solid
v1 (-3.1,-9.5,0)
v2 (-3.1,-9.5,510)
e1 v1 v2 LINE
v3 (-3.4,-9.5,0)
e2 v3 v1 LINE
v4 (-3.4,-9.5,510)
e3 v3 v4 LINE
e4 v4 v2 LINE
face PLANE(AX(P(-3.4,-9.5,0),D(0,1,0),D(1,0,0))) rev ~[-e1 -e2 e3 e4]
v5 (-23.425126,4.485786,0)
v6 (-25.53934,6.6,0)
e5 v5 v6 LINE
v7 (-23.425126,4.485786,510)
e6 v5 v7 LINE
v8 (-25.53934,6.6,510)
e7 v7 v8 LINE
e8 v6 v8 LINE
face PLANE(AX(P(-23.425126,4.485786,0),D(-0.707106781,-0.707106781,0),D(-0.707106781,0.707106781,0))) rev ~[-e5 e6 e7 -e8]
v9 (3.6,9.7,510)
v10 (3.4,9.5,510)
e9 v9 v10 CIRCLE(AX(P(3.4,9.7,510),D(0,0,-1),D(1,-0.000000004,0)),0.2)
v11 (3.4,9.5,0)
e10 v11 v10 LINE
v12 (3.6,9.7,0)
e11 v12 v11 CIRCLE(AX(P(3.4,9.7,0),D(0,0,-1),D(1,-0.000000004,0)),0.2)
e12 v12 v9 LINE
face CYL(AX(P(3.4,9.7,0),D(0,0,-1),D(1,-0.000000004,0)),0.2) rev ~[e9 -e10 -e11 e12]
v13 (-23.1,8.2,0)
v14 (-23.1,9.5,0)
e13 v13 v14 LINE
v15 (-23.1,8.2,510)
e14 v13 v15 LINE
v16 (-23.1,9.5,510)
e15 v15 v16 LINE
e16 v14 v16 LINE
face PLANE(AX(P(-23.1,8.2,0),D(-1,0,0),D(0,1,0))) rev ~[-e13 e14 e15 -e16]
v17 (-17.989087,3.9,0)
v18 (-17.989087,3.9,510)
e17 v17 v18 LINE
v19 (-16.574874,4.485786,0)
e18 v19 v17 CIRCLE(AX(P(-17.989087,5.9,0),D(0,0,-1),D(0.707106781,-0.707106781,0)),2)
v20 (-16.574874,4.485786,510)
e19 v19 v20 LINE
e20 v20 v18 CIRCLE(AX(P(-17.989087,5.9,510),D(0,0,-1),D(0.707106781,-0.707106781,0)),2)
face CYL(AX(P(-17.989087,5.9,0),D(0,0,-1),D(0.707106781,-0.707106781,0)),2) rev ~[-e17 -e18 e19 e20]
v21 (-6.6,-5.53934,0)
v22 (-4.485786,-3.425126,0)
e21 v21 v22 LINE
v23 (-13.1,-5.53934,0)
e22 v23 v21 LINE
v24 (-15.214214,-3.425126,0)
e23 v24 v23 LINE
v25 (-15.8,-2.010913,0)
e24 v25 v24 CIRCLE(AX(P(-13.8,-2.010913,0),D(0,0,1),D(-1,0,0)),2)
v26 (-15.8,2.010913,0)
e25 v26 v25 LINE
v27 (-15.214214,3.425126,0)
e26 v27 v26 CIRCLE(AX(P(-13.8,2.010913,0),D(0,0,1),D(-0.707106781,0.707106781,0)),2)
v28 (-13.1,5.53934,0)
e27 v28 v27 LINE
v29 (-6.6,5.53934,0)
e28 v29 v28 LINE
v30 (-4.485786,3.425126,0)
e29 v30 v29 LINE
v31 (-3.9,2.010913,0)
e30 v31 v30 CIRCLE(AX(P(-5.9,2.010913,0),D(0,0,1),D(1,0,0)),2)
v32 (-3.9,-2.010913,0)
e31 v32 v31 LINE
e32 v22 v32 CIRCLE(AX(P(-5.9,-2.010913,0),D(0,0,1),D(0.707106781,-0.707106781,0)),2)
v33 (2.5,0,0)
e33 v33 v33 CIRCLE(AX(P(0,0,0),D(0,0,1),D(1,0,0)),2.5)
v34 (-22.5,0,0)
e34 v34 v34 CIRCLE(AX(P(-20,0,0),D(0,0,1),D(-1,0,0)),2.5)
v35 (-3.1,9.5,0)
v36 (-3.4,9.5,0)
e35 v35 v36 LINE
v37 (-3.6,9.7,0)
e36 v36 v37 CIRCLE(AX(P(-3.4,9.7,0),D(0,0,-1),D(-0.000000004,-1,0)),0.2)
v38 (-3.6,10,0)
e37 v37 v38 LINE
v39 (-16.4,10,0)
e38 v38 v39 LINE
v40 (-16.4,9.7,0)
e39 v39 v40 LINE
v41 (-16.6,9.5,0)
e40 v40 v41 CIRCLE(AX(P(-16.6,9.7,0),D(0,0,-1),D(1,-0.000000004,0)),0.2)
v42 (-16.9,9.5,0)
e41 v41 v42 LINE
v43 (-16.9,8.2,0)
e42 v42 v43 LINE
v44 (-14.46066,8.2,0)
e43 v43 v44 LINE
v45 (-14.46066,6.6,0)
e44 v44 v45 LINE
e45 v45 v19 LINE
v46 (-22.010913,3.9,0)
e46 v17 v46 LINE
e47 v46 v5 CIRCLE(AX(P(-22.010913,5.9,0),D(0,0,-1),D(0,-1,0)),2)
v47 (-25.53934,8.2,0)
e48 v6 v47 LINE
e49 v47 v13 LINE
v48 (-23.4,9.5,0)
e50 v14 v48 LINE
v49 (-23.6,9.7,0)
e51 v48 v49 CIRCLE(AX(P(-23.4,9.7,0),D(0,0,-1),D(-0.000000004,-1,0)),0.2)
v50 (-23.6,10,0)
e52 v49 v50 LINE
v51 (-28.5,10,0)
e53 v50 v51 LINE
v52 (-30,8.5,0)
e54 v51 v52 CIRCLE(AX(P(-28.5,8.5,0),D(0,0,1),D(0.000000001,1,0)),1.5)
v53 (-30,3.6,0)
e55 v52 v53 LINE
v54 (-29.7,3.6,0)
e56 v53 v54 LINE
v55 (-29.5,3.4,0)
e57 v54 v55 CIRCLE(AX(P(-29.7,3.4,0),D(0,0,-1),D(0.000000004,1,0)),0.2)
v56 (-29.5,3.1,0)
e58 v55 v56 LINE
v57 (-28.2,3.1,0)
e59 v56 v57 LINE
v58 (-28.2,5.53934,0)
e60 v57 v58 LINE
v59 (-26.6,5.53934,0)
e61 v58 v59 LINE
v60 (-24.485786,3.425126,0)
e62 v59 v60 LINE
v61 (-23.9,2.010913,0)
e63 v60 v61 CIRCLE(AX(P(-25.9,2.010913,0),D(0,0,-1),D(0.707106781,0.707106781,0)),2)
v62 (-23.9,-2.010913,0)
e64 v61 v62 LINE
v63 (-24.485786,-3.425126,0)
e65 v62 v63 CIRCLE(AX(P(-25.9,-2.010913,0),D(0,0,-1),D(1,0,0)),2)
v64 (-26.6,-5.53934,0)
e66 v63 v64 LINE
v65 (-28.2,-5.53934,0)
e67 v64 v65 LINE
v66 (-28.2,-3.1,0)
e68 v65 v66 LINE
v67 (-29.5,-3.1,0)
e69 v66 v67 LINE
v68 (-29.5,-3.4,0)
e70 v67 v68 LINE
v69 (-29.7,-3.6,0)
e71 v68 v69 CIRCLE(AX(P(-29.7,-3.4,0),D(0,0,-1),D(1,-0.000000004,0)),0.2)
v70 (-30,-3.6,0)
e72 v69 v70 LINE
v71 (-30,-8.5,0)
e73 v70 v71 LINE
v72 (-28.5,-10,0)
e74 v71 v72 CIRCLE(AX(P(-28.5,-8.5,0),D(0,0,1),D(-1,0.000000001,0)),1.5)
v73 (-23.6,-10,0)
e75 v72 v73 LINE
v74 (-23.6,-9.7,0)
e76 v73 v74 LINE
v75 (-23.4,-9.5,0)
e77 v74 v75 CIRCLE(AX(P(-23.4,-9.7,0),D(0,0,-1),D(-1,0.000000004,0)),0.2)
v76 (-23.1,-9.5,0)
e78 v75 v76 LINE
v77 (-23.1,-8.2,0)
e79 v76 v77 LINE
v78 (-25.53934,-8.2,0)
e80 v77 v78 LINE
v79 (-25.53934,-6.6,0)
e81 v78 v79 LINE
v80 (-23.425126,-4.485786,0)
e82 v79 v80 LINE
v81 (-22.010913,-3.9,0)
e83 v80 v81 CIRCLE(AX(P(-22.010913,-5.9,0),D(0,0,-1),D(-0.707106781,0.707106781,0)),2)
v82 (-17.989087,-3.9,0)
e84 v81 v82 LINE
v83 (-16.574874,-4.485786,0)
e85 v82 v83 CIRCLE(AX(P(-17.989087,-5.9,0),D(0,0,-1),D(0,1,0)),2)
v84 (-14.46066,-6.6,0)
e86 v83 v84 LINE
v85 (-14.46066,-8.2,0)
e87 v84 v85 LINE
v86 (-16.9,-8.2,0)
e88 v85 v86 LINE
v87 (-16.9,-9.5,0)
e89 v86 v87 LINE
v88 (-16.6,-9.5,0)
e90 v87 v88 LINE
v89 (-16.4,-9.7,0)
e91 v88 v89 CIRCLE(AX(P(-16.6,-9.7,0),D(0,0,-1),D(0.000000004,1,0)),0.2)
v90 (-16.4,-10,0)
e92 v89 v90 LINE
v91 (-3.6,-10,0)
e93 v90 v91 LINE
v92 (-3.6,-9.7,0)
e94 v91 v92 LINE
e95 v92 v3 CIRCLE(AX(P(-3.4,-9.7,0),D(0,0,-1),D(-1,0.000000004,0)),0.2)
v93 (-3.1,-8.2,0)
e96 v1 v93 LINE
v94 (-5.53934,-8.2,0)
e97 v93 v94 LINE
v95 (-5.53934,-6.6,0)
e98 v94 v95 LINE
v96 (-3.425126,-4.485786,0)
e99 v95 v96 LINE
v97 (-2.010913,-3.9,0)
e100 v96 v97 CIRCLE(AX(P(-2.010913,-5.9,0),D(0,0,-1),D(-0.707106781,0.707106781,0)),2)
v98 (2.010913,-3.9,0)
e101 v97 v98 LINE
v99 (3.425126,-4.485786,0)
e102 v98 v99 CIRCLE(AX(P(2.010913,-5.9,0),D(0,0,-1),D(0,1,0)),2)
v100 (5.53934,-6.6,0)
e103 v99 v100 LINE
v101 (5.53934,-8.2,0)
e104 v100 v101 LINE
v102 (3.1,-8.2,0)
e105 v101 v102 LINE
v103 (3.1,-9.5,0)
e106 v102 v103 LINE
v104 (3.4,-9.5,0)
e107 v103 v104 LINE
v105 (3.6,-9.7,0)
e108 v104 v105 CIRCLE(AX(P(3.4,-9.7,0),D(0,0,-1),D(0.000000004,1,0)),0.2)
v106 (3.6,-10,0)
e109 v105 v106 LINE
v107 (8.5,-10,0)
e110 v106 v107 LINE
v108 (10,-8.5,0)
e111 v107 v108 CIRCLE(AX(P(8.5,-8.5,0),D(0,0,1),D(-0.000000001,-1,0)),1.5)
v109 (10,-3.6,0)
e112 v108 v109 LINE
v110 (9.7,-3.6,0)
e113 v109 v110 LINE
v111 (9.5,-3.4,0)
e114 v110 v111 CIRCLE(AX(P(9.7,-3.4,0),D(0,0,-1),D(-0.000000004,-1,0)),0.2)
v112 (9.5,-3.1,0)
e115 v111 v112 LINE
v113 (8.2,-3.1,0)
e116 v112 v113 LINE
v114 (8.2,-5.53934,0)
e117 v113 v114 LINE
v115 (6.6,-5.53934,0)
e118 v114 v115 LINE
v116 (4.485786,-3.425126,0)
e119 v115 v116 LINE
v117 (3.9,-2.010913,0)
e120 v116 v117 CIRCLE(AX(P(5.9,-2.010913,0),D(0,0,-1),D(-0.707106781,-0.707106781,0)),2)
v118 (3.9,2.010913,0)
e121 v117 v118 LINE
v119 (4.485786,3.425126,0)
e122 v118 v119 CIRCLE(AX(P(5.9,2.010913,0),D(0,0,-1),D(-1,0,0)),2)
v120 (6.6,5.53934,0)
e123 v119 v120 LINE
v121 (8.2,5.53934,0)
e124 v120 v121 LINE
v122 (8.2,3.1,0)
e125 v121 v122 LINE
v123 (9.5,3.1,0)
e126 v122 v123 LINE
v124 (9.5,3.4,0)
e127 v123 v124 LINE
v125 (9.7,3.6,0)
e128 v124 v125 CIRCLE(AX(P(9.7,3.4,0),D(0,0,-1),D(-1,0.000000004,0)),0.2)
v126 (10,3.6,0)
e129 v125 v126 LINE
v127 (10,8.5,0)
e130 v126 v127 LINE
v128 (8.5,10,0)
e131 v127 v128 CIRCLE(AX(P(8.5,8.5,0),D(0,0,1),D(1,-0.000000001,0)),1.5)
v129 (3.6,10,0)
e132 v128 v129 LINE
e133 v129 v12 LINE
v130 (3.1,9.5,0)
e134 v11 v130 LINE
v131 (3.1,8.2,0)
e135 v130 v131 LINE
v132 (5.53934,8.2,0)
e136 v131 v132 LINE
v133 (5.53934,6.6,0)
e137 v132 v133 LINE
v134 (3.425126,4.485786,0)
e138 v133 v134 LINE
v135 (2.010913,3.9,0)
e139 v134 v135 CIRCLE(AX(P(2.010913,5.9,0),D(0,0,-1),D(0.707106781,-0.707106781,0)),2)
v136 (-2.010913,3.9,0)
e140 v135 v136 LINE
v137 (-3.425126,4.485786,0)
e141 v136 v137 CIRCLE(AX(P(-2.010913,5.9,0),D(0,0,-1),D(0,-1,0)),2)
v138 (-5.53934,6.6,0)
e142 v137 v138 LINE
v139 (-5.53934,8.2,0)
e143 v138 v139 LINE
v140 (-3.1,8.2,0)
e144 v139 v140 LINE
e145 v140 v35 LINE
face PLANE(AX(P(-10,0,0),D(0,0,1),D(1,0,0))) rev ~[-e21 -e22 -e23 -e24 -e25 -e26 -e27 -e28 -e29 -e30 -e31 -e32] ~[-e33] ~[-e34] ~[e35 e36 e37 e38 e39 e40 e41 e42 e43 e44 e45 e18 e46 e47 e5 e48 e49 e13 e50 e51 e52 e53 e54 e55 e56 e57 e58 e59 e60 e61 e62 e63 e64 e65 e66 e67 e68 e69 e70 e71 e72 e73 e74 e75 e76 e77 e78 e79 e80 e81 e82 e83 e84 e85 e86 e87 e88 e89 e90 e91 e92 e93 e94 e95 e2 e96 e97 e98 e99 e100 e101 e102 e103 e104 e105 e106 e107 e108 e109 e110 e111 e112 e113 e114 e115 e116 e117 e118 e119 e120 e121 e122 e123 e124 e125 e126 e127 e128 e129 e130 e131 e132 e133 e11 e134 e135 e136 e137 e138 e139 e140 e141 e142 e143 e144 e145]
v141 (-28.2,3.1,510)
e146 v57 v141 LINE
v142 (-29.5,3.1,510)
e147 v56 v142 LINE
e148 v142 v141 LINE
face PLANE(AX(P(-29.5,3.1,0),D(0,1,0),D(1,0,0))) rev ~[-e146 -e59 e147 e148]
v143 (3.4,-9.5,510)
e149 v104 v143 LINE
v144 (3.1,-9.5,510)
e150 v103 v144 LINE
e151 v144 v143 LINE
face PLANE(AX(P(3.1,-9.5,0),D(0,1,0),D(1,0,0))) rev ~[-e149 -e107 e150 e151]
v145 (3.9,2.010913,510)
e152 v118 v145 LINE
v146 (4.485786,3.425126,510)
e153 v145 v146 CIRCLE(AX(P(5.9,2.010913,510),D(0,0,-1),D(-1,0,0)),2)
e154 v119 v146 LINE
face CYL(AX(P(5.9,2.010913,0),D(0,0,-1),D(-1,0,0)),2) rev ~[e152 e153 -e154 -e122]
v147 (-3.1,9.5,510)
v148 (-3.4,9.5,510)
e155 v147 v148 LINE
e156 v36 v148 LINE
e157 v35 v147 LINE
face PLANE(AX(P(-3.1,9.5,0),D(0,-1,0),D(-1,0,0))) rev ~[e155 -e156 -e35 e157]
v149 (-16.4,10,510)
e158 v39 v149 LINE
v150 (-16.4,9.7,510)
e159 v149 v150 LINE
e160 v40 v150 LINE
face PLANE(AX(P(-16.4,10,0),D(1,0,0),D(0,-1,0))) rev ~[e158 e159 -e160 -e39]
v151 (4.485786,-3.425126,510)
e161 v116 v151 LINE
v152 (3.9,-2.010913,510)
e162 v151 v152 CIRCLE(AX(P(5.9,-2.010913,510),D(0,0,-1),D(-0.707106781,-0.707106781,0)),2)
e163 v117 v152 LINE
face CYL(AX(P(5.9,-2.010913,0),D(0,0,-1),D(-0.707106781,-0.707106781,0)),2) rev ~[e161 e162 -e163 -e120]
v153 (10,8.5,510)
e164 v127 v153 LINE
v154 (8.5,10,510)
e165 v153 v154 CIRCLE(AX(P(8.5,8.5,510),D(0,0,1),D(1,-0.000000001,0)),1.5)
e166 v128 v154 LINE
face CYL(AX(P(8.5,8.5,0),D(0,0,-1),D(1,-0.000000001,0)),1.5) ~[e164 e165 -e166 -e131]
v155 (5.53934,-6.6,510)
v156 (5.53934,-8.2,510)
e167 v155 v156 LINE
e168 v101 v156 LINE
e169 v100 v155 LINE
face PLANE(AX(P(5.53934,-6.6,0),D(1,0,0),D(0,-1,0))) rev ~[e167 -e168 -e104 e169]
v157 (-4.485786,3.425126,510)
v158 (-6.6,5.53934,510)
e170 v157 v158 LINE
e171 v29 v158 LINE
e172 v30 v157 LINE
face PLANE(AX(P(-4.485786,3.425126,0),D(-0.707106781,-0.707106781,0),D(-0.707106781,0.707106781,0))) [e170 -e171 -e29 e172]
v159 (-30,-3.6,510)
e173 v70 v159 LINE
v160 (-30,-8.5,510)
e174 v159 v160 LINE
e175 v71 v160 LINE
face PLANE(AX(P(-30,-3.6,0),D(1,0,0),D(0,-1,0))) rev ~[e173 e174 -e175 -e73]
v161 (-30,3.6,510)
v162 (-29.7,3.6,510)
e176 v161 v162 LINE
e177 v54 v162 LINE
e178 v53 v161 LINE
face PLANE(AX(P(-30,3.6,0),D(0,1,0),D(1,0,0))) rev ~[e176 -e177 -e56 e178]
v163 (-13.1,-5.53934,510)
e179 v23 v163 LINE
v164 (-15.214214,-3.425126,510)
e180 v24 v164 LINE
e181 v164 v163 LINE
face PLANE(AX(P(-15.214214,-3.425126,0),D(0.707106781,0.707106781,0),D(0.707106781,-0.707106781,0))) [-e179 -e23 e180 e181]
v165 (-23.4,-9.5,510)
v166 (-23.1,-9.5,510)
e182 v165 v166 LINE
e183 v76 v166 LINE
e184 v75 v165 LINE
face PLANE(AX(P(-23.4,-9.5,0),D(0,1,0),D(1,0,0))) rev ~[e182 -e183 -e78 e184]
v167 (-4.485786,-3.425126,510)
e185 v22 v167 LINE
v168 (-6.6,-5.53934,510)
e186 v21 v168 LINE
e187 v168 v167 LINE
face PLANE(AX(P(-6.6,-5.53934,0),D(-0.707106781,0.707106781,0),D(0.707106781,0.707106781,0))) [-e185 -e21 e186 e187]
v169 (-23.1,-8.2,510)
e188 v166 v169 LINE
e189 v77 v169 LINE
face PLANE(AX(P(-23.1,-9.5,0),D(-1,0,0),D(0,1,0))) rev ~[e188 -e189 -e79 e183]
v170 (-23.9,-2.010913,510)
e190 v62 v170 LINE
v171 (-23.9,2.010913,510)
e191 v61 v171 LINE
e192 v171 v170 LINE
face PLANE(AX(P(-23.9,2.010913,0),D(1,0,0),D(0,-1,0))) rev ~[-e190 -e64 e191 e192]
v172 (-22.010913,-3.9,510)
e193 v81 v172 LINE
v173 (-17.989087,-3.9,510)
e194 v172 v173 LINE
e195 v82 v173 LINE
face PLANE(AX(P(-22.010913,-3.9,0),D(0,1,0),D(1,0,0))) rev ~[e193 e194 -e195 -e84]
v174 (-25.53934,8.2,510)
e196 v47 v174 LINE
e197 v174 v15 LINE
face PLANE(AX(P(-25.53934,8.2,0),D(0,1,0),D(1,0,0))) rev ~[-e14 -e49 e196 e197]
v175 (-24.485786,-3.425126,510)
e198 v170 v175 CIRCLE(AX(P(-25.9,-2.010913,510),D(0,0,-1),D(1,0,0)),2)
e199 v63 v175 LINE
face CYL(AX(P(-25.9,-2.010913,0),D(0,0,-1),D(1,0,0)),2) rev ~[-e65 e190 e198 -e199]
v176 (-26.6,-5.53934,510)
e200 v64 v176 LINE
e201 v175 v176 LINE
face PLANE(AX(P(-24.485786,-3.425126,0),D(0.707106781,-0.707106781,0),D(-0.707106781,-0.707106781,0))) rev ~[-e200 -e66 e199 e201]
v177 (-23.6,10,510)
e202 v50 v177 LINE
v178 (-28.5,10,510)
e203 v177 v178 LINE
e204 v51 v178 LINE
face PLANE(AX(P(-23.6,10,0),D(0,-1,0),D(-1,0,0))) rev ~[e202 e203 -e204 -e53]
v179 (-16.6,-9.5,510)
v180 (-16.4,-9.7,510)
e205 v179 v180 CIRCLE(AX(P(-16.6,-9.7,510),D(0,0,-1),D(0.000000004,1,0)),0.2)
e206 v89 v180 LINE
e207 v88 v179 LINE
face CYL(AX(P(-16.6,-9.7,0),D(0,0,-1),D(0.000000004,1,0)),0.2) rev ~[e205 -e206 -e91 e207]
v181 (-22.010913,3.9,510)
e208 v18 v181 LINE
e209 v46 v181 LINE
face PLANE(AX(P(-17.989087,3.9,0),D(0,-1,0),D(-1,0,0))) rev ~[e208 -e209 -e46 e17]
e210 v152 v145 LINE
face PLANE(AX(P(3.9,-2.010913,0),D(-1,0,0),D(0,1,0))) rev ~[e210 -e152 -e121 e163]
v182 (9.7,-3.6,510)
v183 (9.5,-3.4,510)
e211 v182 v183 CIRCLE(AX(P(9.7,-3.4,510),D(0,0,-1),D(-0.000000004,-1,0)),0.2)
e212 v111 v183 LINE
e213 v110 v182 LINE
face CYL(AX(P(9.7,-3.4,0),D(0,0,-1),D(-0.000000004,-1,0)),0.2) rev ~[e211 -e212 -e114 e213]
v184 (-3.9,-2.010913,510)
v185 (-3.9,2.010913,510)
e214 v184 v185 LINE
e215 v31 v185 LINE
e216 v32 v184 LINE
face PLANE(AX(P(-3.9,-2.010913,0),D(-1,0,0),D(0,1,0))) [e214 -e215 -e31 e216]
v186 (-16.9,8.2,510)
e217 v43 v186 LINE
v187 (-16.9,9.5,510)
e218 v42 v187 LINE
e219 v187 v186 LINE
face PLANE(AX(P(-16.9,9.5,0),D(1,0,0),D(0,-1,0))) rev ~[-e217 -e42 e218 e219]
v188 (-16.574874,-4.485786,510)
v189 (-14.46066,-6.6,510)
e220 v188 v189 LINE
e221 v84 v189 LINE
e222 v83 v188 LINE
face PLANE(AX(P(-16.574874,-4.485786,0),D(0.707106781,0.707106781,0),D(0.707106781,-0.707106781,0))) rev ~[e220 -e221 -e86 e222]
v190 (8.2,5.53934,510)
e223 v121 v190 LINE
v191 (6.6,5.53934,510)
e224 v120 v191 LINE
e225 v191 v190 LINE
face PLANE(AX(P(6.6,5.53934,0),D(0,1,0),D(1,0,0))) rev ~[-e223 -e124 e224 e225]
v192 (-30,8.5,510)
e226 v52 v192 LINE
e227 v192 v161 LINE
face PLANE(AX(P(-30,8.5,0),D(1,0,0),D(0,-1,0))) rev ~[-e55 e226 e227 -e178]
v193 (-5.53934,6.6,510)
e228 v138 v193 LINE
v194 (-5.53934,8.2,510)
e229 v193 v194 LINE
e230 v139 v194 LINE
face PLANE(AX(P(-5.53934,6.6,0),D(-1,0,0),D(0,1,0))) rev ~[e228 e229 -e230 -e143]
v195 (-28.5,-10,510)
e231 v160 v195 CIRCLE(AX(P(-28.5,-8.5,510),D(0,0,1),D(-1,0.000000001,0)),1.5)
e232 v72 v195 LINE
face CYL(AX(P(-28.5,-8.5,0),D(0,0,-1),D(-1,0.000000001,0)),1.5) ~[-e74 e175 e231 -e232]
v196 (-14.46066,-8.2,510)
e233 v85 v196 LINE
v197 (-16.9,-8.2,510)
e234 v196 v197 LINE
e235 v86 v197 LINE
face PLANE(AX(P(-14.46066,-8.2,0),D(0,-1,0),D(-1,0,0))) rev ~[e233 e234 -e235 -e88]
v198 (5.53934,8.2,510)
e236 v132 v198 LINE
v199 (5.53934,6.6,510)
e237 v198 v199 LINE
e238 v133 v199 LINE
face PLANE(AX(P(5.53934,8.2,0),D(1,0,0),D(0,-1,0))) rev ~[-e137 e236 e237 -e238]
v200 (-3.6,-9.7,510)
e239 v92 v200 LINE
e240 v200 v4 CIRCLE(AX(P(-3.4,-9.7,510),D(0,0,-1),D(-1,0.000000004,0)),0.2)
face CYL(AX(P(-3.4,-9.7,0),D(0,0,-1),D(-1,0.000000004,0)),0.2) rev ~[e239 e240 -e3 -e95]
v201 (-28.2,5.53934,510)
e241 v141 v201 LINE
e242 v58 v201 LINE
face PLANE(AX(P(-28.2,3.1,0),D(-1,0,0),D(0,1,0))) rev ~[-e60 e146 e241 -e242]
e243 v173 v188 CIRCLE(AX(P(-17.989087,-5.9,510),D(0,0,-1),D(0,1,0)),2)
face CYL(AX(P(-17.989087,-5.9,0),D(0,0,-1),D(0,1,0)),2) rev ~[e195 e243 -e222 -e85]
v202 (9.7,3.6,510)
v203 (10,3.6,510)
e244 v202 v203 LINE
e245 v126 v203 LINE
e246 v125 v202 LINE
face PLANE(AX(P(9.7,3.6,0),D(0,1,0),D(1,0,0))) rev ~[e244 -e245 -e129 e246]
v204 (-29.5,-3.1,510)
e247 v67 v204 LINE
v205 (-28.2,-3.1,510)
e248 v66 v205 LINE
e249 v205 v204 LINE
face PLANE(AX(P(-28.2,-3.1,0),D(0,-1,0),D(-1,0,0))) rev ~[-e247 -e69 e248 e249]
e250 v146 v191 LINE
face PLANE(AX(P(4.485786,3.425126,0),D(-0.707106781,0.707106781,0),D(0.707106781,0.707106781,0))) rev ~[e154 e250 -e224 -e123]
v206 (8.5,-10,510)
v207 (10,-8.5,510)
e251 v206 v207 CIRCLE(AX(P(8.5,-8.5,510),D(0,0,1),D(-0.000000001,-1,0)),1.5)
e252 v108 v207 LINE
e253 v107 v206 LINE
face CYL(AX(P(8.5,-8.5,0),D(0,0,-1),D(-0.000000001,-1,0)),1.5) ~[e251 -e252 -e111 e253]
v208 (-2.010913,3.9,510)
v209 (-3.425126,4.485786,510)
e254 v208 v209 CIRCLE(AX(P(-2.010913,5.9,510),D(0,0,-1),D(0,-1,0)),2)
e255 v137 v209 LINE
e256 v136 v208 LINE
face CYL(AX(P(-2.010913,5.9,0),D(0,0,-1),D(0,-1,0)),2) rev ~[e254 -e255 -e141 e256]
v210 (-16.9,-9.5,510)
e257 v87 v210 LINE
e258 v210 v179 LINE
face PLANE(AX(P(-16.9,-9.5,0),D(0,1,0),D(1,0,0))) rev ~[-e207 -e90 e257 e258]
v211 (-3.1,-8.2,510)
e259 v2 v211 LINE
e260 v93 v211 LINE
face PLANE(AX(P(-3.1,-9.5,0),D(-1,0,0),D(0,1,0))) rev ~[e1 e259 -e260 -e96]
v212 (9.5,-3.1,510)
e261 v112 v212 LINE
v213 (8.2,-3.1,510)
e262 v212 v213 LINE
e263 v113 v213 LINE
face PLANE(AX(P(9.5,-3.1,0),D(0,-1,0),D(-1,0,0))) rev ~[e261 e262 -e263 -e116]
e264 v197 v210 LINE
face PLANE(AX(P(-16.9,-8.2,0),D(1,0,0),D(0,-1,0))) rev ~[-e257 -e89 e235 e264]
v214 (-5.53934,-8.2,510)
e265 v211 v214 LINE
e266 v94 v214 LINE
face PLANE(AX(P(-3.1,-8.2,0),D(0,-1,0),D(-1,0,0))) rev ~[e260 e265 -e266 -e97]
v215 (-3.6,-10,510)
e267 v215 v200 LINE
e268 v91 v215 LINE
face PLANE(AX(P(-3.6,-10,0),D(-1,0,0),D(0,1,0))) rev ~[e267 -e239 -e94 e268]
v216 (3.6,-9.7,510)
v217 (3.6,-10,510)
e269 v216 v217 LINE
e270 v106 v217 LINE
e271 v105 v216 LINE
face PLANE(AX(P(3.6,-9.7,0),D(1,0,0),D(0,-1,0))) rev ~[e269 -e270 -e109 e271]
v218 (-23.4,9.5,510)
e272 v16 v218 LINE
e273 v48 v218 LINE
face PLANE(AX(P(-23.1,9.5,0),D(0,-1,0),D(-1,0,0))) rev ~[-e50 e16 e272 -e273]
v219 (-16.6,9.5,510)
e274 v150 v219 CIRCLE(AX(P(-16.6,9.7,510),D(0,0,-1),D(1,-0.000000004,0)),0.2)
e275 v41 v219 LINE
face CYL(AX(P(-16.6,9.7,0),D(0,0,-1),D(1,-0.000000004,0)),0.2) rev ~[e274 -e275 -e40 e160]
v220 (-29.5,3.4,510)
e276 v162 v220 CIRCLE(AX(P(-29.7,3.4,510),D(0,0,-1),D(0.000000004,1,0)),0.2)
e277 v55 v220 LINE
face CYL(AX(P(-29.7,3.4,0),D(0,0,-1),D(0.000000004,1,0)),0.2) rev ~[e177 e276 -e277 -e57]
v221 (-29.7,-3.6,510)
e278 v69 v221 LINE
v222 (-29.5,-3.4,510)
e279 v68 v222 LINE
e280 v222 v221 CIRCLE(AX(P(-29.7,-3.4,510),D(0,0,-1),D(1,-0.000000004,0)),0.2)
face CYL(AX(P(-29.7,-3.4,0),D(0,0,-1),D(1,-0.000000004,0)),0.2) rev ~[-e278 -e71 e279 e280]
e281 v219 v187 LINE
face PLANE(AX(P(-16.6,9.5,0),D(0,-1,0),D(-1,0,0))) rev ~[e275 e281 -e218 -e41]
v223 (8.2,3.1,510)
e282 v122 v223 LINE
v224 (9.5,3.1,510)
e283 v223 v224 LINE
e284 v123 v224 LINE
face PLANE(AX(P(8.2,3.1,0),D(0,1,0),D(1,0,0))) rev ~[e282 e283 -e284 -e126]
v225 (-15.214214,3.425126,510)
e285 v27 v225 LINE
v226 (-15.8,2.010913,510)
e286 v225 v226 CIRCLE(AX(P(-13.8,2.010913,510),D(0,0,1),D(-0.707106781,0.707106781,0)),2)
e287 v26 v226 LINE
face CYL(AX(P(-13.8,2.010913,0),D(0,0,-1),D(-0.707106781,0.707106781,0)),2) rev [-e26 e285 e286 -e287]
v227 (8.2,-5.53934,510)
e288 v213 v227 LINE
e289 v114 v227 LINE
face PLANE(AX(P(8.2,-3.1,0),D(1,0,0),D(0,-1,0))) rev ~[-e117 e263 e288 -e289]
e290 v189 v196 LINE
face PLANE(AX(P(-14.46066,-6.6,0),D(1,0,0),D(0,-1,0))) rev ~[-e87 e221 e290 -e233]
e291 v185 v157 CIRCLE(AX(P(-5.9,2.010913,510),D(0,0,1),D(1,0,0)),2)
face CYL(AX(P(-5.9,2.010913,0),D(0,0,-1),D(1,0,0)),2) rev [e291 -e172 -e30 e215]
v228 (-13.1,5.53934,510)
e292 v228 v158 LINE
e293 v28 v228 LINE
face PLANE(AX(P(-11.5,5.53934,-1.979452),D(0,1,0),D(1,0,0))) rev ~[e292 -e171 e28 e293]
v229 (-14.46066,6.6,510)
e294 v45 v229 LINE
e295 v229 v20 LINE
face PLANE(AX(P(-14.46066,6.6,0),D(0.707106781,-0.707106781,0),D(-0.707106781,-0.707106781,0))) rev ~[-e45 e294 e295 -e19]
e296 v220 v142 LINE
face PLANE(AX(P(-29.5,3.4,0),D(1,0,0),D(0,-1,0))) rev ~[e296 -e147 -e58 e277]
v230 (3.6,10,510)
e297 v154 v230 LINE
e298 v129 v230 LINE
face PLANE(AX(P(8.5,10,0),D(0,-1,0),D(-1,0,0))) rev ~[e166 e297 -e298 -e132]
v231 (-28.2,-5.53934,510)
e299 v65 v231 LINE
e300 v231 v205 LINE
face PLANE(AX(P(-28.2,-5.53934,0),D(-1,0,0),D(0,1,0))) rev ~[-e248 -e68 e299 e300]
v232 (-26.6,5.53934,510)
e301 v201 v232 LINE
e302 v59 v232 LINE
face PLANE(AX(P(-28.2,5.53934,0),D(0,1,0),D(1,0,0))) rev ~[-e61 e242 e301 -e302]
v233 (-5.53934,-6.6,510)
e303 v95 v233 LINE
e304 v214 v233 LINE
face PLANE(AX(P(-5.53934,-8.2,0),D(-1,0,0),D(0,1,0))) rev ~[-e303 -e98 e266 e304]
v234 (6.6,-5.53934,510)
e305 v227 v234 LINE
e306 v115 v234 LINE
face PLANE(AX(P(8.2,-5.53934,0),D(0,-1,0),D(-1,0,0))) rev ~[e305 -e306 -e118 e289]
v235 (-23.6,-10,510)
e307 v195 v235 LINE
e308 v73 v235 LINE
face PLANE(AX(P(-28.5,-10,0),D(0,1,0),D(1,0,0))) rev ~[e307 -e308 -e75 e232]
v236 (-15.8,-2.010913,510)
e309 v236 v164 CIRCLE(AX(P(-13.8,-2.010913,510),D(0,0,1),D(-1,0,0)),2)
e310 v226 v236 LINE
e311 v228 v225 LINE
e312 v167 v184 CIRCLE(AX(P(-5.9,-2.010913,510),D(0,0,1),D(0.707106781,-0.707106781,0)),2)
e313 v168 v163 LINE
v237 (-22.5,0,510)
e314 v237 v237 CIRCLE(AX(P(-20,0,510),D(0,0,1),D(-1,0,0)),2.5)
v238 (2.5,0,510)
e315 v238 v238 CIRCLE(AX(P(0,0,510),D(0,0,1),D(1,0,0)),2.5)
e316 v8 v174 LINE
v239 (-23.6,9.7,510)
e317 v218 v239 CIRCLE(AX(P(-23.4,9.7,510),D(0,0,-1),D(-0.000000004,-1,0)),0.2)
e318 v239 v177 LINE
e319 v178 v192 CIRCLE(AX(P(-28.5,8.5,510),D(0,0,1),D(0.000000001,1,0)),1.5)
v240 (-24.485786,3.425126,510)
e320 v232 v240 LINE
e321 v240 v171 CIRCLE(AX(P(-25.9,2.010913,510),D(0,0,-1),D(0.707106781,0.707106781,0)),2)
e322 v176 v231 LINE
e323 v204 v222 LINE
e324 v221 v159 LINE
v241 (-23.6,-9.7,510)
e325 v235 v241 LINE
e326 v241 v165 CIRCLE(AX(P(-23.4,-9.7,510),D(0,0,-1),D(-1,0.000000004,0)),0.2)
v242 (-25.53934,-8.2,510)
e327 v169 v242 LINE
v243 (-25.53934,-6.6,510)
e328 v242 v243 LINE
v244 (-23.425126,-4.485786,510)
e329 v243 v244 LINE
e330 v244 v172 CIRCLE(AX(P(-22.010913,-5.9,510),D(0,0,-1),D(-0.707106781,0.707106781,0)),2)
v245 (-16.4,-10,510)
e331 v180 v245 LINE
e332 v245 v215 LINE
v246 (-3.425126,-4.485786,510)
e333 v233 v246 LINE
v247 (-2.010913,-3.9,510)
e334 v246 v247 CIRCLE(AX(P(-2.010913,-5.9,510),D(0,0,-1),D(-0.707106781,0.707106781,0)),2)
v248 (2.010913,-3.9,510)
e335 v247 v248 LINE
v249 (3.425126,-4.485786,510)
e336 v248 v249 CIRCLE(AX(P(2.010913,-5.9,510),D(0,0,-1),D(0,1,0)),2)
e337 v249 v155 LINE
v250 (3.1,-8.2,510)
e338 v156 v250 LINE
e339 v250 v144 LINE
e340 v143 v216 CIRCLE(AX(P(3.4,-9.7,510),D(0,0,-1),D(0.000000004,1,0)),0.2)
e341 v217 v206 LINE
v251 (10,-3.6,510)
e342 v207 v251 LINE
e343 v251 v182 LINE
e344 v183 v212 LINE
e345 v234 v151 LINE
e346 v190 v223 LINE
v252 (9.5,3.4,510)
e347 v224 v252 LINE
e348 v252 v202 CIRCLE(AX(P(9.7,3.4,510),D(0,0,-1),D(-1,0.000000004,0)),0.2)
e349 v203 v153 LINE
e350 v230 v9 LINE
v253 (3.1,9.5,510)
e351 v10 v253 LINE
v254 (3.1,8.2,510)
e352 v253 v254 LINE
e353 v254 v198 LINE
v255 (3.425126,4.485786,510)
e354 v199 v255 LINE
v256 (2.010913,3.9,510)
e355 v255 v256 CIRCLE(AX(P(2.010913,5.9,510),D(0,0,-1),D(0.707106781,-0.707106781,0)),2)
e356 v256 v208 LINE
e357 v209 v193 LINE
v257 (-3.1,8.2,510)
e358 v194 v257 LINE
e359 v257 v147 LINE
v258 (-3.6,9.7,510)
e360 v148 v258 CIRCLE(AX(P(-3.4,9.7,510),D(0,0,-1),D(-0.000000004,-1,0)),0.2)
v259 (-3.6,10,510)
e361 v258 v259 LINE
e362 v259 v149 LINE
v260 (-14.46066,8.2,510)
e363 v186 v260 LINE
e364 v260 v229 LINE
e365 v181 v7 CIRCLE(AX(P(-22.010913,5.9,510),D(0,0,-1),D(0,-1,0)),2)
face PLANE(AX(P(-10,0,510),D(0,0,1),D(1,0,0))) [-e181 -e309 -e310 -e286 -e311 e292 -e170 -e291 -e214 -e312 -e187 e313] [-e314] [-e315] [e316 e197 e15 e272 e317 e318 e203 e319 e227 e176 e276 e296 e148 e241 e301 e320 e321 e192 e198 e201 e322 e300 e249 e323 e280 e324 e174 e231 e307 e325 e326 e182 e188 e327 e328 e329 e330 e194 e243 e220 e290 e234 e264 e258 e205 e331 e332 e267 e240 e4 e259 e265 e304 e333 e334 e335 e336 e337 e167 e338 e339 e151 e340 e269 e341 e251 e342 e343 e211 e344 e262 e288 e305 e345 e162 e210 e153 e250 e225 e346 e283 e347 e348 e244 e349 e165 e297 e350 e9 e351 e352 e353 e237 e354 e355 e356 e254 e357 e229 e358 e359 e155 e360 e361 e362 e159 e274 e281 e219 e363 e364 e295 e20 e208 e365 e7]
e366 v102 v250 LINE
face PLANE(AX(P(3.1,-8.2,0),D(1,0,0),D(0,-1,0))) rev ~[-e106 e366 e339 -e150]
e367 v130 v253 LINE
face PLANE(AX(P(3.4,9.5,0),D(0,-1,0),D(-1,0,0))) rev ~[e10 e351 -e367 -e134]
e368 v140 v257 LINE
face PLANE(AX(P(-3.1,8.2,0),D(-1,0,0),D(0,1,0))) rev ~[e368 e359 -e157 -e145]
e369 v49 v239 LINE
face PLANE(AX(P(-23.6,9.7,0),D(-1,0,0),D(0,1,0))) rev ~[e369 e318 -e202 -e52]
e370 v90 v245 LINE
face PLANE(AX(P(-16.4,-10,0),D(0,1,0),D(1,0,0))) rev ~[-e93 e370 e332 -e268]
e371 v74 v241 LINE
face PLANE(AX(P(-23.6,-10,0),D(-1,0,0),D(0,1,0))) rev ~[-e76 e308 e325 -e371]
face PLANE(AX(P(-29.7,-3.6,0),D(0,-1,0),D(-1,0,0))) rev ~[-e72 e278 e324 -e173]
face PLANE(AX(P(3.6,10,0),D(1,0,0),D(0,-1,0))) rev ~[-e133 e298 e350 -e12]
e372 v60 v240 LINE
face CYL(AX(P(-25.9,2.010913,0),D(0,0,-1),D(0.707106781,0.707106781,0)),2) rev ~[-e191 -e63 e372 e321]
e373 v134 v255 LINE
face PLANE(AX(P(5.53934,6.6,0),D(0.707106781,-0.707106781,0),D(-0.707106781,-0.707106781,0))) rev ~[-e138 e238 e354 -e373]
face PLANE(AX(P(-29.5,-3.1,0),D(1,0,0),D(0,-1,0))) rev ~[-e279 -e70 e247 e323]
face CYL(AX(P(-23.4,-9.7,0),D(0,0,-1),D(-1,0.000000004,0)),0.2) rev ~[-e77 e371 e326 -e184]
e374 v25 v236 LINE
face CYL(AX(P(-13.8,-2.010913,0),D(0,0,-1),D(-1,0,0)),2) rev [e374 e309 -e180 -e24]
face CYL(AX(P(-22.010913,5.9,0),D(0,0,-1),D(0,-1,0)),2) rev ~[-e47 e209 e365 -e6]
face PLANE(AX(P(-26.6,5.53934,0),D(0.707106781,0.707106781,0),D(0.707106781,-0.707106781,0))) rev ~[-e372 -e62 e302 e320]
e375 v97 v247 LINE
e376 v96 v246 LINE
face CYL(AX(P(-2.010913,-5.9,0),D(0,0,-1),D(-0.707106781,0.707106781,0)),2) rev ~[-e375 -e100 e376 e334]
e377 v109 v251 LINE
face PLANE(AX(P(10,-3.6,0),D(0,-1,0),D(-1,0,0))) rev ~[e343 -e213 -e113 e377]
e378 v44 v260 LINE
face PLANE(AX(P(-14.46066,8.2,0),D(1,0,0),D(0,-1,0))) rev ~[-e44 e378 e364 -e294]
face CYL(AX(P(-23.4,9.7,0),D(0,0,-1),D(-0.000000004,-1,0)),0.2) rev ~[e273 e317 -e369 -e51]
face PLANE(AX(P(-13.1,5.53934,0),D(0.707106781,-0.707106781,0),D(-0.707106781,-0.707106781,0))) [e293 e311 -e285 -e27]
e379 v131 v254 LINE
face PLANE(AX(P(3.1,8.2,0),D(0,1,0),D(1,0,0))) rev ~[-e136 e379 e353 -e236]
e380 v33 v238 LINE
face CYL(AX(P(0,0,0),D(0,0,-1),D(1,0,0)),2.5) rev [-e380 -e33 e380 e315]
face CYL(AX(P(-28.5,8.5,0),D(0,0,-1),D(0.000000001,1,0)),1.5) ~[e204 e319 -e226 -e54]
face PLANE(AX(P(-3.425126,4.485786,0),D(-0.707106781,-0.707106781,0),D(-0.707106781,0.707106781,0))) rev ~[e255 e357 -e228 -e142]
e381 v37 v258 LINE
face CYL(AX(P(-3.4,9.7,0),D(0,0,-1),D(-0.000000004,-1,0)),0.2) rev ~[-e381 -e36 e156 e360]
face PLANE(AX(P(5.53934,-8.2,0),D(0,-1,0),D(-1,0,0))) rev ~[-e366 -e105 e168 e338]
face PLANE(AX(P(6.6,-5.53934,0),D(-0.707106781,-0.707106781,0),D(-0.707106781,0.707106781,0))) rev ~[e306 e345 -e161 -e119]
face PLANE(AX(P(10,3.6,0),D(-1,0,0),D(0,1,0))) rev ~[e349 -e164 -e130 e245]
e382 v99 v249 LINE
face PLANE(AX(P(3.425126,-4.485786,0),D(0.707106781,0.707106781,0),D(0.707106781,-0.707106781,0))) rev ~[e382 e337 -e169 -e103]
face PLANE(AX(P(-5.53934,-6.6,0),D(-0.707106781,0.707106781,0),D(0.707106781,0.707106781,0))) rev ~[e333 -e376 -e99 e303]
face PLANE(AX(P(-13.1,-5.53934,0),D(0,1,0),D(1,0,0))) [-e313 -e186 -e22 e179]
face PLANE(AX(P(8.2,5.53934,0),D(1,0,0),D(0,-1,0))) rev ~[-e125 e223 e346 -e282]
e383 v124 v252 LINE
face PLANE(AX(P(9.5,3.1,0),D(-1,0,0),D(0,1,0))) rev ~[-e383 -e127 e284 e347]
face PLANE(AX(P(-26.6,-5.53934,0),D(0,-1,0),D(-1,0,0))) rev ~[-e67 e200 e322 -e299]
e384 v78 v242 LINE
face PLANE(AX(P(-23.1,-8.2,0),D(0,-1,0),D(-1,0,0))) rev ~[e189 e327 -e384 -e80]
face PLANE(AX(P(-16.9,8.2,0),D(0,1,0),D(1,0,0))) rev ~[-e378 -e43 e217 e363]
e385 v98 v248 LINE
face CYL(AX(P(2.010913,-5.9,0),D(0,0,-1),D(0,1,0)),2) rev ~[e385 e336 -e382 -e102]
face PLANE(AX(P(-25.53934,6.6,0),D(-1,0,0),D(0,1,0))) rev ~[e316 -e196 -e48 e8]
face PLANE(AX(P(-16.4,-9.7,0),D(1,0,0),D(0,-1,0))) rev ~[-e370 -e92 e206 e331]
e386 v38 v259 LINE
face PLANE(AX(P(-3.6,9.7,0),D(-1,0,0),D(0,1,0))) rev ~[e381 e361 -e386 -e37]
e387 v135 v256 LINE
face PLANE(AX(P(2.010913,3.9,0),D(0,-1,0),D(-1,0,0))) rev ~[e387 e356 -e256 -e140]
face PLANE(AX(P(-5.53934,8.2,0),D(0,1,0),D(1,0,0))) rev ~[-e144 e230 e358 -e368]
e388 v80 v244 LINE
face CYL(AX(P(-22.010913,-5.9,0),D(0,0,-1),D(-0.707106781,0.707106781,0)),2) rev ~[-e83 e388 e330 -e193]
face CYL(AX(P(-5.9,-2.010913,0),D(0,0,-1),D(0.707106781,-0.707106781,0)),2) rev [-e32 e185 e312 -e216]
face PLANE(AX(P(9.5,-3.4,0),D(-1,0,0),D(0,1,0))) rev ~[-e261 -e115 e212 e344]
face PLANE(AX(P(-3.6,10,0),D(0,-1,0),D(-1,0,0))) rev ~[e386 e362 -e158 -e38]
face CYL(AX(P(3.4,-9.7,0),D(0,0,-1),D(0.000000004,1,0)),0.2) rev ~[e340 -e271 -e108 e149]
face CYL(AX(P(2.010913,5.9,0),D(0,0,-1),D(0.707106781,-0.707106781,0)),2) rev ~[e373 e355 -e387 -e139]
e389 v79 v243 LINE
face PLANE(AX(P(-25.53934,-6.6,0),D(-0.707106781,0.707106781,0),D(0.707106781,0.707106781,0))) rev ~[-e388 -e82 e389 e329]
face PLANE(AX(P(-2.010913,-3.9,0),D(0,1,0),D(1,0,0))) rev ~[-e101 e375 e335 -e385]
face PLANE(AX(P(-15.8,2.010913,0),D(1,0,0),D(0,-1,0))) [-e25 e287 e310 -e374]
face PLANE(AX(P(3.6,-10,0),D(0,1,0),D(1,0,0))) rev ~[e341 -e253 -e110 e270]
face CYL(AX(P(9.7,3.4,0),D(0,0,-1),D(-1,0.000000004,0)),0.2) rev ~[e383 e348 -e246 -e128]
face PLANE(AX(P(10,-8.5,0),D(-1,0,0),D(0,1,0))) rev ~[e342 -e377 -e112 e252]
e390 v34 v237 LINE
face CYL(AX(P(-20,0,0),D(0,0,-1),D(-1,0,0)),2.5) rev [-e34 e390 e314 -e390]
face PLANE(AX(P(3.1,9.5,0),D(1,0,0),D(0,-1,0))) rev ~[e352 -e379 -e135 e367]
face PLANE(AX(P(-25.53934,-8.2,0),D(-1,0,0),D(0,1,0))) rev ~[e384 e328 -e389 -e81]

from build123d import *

# Parameters (mm, degrees)
SKETCH1_R               = 2.5
EXTRUDE1_DEPTH          = 510
CUT_EXTRUDE1_DEPTH      = 511.979451642
CUT_EXTRUDE1_DEPTH_BACK = 511.979451642
SKETCH2_W               = 3.3
SKETCH2_H               = 11.078679656


with BuildPart() as part:
    # Sketch1 → Extrude1 (new body)
    with BuildSketch(Plane.XY):
        with BuildLine():
            Line((0, 3.9), (-2.010912703, 3.9))
            ThreePointArc((-2.010912703, 3.9), (-2.776279568, 4.052240935), (-3.425126266, 4.485786438))
            Line((-3.425126266, 4.485786438), (-5.539339828, 6.6))
            Line((-5.539339828, 6.6), (-5.539339828, 8.2))
            Line((-5.539339828, 8.2), (-3.1, 8.2))
            Line((-3.1, 8.2), (-3.1, 9.5))
            Line((-3.1, 9.5), (-3.4, 9.5))
            ThreePointArc((-3.4, 9.5), (-3.541421356, 9.558578644), (-3.6, 9.7))
            Line((-3.6, 9.7), (-3.6, 10))
            Line((-3.6, 10), (-8.5, 10))
            Line((-8.5, 10), (-11.5, 10))
            Line((-11.5, 10), (-16.4, 10))
            Line((-16.4, 10), (-16.4, 9.7))
            ThreePointArc((-16.4, 9.7), (-16.458578644, 9.558578644), (-16.6, 9.5))
            Line((-16.6, 9.5), (-16.9, 9.5))
            Line((-16.9, 9.5), (-16.9, 8.2))
            Line((-16.9, 8.2), (-14.460660172, 8.2))
            Line((-14.460660172, 8.2), (-14.460660172, 6.6))
            Line((-14.460660172, 6.6), (-16.574873734, 4.485786438))
            ThreePointArc((-16.574873734, 4.485786438), (-17.223720432, 4.052240935), (-17.989087297, 3.9))
            Line((-17.989087297, 3.9), (-20, 3.9))
            Line((-20, 3.9), (-22.010912703, 3.9))
            ThreePointArc((-22.010912703, 3.9), (-22.776279568, 4.052240935), (-23.425126266, 4.485786438))
            Line((-23.425126266, 4.485786438), (-25.539339828, 6.6))
            Line((-25.539339828, 6.6), (-25.539339828, 8.2))
            Line((-25.539339828, 8.2), (-23.1, 8.2))
            Line((-23.1, 8.2), (-23.1, 9.5))
            Line((-23.1, 9.5), (-23.4, 9.5))
            ThreePointArc((-23.4, 9.5), (-23.541421356, 9.558578644), (-23.6, 9.7))
            Line((-23.6, 9.7), (-23.6, 10))
            Line((-23.6, 10), (-28.5, 10))
            ThreePointArc((-28.5, 10), (-29.560660172, 9.560660172), (-30, 8.5))
            Line((-30, 8.5), (-30, 3.6))
            Line((-30, 3.6), (-29.7, 3.6))
            ThreePointArc((-29.7, 3.6), (-29.558578644, 3.541421356), (-29.5, 3.4))
            Line((-29.5, 3.4), (-29.5, 3.1))
            Line((-29.5, 3.1), (-28.2, 3.1))
            Line((-28.2, 3.1), (-28.2, 5.539339828))
            Line((-28.2, 5.539339828), (-26.6, 5.539339828))
            Line((-26.6, 5.539339828), (-24.485786438, 3.425126266))
            ThreePointArc((-24.485786438, 3.425126266), (-24.052240935, 2.776279568), (-23.9, 2.010912703))
            Line((-23.9, 2.010912703), (-23.9, 0))
            Line((-23.9, 0), (-23.9, -2.010912703))
            ThreePointArc((-23.9, -2.010912703), (-24.052240935, -2.776279568), (-24.485786438, -3.425126266))
            Line((-24.485786438, -3.425126266), (-26.6, -5.539339828))
            Line((-26.6, -5.539339828), (-28.2, -5.539339828))
            Line((-28.2, -5.539339828), (-28.2, -3.1))
            Line((-28.2, -3.1), (-29.5, -3.1))
            Line((-29.5, -3.1), (-29.5, -3.4))
            ThreePointArc((-29.5, -3.4), (-29.558578644, -3.541421356), (-29.7, -3.6))
            Line((-29.7, -3.6), (-30, -3.6))
            Line((-30, -3.6), (-30, -8.5))
            ThreePointArc((-30, -8.5), (-29.560660172, -9.560660172), (-28.5, -10))
            Line((-28.5, -10), (-23.6, -10))
            Line((-23.6, -10), (-23.6, -9.7))
            ThreePointArc((-23.6, -9.7), (-23.541421356, -9.558578644), (-23.4, -9.5))
            Line((-23.4, -9.5), (-23.1, -9.5))
            Line((-23.1, -9.5), (-23.1, -8.2))
            Line((-23.1, -8.2), (-25.539339828, -8.2))
            Line((-25.539339828, -8.2), (-25.539339828, -6.6))
            Line((-25.539339828, -6.6), (-23.425126266, -4.485786438))
            ThreePointArc((-23.425126266, -4.485786438), (-22.776279568, -4.052240935), (-22.010912703, -3.9))
            Line((-22.010912703, -3.9), (-20, -3.9))
            Line((-20, -3.9), (-17.989087297, -3.9))
            ThreePointArc((-17.989087297, -3.9), (-17.223720432, -4.052240935), (-16.574873734, -4.485786438))
            Line((-16.574873734, -4.485786438), (-14.460660172, -6.6))
            Line((-14.460660172, -6.6), (-14.460660172, -8.2))
            Line((-14.460660172, -8.2), (-16.9, -8.2))
            Line((-16.9, -8.2), (-16.9, -9.5))
            Line((-16.9, -9.5), (-16.6, -9.5))
            ThreePointArc((-16.6, -9.5), (-16.458578644, -9.558578644), (-16.4, -9.7))
            Line((-16.4, -9.7), (-16.4, -10))
            Line((-16.4, -10), (-11.5, -10))
            Line((-11.5, -10), (-8.5, -10))
            Line((-8.5, -10), (-3.6, -10))
            Line((-3.6, -10), (-3.6, -9.7))
            ThreePointArc((-3.6, -9.7), (-3.541421356, -9.558578644), (-3.4, -9.5))
            Line((-3.4, -9.5), (-3.1, -9.5))
            Line((-3.1, -9.5), (-3.1, -8.2))
            Line((-3.1, -8.2), (-5.539339828, -8.2))
            Line((-5.539339828, -8.2), (-5.539339828, -6.6))
            Line((-5.539339828, -6.6), (-3.425126266, -4.485786438))
            ThreePointArc((-3.425126266, -4.485786438), (-2.776279568, -4.052240935), (-2.010912703, -3.9))
            Line((-2.010912703, -3.9), (0, -3.9))
            Line((0, -3.9), (2.010912703, -3.9))
            ThreePointArc((2.010912703, -3.9), (2.776279568, -4.052240935), (3.425126266, -4.485786438))
            Line((3.425126266, -4.485786438), (5.539339828, -6.6))
            Line((5.539339828, -6.6), (5.539339828, -8.2))
            Line((5.539339828, -8.2), (3.1, -8.2))
            Line((3.1, -8.2), (3.1, -9.5))
            Line((3.1, -9.5), (3.4, -9.5))
            ThreePointArc((3.4, -9.5), (3.541421356, -9.558578644), (3.6, -9.7))
            Line((3.6, -9.7), (3.6, -10))
            Line((3.6, -10), (8.5, -10))
            ThreePointArc((8.5, -10), (9.560660172, -9.560660172), (10, -8.5))
            Line((10, -8.5), (10, -3.6))
            Line((10, -3.6), (9.7, -3.6))
            ThreePointArc((9.7, -3.6), (9.558578644, -3.541421356), (9.5, -3.4))
            Line((9.5, -3.4), (9.5, -3.1))
            Line((9.5, -3.1), (8.2, -3.1))
            Line((8.2, -3.1), (8.2, -5.539339828))
            Line((8.2, -5.539339828), (6.6, -5.539339828))
            Line((6.6, -5.539339828), (4.485786438, -3.425126266))
            ThreePointArc((4.485786438, -3.425126266), (4.052240935, -2.776279568), (3.9, -2.010912703))
            Line((3.9, -2.010912703), (3.9, 0))
            Line((3.9, 0), (3.9, 2.010912703))
            ThreePointArc((3.9, 2.010912703), (4.052240935, 2.776279568), (4.485786438, 3.425126266))
            Line((4.485786438, 3.425126266), (6.6, 5.539339828))
            Line((6.6, 5.539339828), (8.2, 5.539339828))
            Line((8.2, 5.539339828), (8.2, 3.1))
            Line((8.2, 3.1), (9.5, 3.1))
            Line((9.5, 3.1), (9.5, 3.4))
            ThreePointArc((9.5, 3.4), (9.558578644, 3.541421356), (9.7, 3.6))
            Line((9.7, 3.6), (10, 3.6))
            Line((10, 3.6), (10, 8.5))
            ThreePointArc((10, 8.5), (9.560660172, 9.560660172), (8.5, 10))
            Line((8.5, 10), (3.6, 10))
            Line((3.6, 10), (3.6, 9.7))
            ThreePointArc((3.6, 9.7), (3.541421356, 9.558578644), (3.4, 9.5))
            Line((3.4, 9.5), (3.1, 9.5))
            Line((3.1, 9.5), (3.1, 8.2))
            Line((3.1, 8.2), (5.539339828, 8.2))
            Line((5.539339828, 8.2), (5.539339828, 6.6))
            Line((5.539339828, 6.6), (3.425126266, 4.485786438))
            ThreePointArc((3.425126266, 4.485786438), (2.776279568, 4.052240935), (2.010912703, 3.9))
            Line((2.010912703, 3.9), (0, 3.9))
        make_face()
        Circle(SKETCH1_R, mode=Mode.SUBTRACT)
        with Locations(Location((-20, 0, 0), (0, 0, 180))):
            Circle(SKETCH1_R, mode=Mode.SUBTRACT)
        with BuildLine():
            Line((-9.7, 3.6), (-10, 3.6))
            ThreePointArc((-10, 3.6), (-10.141421356, 3.541421356), (-10.2, 3.4))
            Line((-10.2, 3.4), (-10.2, 3.1))
            Line((-10.2, 3.1), (-11.5, 3.1))
            Line((-11.5, 3.1), (-11.5, 5.539339828))
            Line((-11.5, 5.539339828), (-13.1, 5.539339828))
            Line((-13.1, 5.539339828), (-15.214213562, 3.425126266))
            ThreePointArc((-15.214213562, 3.425126266), (-15.647759065, 2.776279568), (-15.8, 2.010912703))
            Line((-15.8, 2.010912703), (-15.8, 0))
            Line((-15.8, 0), (-15.8, -2.010912703))
            ThreePointArc((-15.8, -2.010912703), (-15.647759065, -2.776279568), (-15.214213562, -3.425126266))
            Line((-15.214213562, -3.425126266), (-13.1, -5.539339828))
            Line((-13.1, -5.539339828), (-11.5, -5.539339828))
            Line((-11.5, -5.539339828), (-11.5, -3.1))
            Line((-11.5, -3.1), (-10.2, -3.1))
            Line((-10.2, -3.1), (-10.2, -3.4))
            ThreePointArc((-10.2, -3.4), (-10.141421356, -3.541421356), (-10, -3.6))
            Line((-10, -3.6), (-9.7, -3.6))
            ThreePointArc((-9.7, -3.6), (-9.558578644, -3.541421356), (-9.5, -3.4))
            Line((-9.5, -3.4), (-9.5, -3.1))
            Line((-9.5, -3.1), (-8.2, -3.1))
            Line((-8.2, -3.1), (-8.2, -5.539339828))
            Line((-8.2, -5.539339828), (-6.6, -5.539339828))
            Line((-6.6, -5.539339828), (-4.485786438, -3.425126266))
            ThreePointArc((-4.485786438, -3.425126266), (-4.052240935, -2.776279568), (-3.9, -2.010912703))
            Line((-3.9, -2.010912703), (-3.9, 0))
            Line((-3.9, 0), (-3.9, 2.010912703))
            ThreePointArc((-3.9, 2.010912703), (-4.052240935, 2.776279568), (-4.485786438, 3.425126266))
            Line((-4.485786438, 3.425126266), (-6.6, 5.539339828))
            Line((-6.6, 5.539339828), (-8.2, 5.539339828))
            Line((-8.2, 5.539339828), (-8.2, 3.1))
            Line((-8.2, 3.1), (-9.5, 3.1))
            Line((-9.5, 3.1), (-9.5, 3.4))
            ThreePointArc((-9.5, 3.4), (-9.558578644, 3.541421356), (-9.7, 3.6))
        make_face(mode=Mode.SUBTRACT)
    extrude(amount=EXTRUDE1_DEPTH)

    # Sketch2 → Cut-Extrude1 (cut, two sides: drawn at the far end of the back side and taken through both)
    with BuildSketch(Plane.XY.offset(510).offset(-CUT_EXTRUDE1_DEPTH_BACK)):
        with Locations((-9.85, 0)):
            Rectangle(SKETCH2_W, SKETCH2_H)
    extrude(amount=CUT_EXTRUDE1_DEPTH + CUT_EXTRUDE1_DEPTH_BACK, mode=Mode.SUBTRACT)


solid = part.part
